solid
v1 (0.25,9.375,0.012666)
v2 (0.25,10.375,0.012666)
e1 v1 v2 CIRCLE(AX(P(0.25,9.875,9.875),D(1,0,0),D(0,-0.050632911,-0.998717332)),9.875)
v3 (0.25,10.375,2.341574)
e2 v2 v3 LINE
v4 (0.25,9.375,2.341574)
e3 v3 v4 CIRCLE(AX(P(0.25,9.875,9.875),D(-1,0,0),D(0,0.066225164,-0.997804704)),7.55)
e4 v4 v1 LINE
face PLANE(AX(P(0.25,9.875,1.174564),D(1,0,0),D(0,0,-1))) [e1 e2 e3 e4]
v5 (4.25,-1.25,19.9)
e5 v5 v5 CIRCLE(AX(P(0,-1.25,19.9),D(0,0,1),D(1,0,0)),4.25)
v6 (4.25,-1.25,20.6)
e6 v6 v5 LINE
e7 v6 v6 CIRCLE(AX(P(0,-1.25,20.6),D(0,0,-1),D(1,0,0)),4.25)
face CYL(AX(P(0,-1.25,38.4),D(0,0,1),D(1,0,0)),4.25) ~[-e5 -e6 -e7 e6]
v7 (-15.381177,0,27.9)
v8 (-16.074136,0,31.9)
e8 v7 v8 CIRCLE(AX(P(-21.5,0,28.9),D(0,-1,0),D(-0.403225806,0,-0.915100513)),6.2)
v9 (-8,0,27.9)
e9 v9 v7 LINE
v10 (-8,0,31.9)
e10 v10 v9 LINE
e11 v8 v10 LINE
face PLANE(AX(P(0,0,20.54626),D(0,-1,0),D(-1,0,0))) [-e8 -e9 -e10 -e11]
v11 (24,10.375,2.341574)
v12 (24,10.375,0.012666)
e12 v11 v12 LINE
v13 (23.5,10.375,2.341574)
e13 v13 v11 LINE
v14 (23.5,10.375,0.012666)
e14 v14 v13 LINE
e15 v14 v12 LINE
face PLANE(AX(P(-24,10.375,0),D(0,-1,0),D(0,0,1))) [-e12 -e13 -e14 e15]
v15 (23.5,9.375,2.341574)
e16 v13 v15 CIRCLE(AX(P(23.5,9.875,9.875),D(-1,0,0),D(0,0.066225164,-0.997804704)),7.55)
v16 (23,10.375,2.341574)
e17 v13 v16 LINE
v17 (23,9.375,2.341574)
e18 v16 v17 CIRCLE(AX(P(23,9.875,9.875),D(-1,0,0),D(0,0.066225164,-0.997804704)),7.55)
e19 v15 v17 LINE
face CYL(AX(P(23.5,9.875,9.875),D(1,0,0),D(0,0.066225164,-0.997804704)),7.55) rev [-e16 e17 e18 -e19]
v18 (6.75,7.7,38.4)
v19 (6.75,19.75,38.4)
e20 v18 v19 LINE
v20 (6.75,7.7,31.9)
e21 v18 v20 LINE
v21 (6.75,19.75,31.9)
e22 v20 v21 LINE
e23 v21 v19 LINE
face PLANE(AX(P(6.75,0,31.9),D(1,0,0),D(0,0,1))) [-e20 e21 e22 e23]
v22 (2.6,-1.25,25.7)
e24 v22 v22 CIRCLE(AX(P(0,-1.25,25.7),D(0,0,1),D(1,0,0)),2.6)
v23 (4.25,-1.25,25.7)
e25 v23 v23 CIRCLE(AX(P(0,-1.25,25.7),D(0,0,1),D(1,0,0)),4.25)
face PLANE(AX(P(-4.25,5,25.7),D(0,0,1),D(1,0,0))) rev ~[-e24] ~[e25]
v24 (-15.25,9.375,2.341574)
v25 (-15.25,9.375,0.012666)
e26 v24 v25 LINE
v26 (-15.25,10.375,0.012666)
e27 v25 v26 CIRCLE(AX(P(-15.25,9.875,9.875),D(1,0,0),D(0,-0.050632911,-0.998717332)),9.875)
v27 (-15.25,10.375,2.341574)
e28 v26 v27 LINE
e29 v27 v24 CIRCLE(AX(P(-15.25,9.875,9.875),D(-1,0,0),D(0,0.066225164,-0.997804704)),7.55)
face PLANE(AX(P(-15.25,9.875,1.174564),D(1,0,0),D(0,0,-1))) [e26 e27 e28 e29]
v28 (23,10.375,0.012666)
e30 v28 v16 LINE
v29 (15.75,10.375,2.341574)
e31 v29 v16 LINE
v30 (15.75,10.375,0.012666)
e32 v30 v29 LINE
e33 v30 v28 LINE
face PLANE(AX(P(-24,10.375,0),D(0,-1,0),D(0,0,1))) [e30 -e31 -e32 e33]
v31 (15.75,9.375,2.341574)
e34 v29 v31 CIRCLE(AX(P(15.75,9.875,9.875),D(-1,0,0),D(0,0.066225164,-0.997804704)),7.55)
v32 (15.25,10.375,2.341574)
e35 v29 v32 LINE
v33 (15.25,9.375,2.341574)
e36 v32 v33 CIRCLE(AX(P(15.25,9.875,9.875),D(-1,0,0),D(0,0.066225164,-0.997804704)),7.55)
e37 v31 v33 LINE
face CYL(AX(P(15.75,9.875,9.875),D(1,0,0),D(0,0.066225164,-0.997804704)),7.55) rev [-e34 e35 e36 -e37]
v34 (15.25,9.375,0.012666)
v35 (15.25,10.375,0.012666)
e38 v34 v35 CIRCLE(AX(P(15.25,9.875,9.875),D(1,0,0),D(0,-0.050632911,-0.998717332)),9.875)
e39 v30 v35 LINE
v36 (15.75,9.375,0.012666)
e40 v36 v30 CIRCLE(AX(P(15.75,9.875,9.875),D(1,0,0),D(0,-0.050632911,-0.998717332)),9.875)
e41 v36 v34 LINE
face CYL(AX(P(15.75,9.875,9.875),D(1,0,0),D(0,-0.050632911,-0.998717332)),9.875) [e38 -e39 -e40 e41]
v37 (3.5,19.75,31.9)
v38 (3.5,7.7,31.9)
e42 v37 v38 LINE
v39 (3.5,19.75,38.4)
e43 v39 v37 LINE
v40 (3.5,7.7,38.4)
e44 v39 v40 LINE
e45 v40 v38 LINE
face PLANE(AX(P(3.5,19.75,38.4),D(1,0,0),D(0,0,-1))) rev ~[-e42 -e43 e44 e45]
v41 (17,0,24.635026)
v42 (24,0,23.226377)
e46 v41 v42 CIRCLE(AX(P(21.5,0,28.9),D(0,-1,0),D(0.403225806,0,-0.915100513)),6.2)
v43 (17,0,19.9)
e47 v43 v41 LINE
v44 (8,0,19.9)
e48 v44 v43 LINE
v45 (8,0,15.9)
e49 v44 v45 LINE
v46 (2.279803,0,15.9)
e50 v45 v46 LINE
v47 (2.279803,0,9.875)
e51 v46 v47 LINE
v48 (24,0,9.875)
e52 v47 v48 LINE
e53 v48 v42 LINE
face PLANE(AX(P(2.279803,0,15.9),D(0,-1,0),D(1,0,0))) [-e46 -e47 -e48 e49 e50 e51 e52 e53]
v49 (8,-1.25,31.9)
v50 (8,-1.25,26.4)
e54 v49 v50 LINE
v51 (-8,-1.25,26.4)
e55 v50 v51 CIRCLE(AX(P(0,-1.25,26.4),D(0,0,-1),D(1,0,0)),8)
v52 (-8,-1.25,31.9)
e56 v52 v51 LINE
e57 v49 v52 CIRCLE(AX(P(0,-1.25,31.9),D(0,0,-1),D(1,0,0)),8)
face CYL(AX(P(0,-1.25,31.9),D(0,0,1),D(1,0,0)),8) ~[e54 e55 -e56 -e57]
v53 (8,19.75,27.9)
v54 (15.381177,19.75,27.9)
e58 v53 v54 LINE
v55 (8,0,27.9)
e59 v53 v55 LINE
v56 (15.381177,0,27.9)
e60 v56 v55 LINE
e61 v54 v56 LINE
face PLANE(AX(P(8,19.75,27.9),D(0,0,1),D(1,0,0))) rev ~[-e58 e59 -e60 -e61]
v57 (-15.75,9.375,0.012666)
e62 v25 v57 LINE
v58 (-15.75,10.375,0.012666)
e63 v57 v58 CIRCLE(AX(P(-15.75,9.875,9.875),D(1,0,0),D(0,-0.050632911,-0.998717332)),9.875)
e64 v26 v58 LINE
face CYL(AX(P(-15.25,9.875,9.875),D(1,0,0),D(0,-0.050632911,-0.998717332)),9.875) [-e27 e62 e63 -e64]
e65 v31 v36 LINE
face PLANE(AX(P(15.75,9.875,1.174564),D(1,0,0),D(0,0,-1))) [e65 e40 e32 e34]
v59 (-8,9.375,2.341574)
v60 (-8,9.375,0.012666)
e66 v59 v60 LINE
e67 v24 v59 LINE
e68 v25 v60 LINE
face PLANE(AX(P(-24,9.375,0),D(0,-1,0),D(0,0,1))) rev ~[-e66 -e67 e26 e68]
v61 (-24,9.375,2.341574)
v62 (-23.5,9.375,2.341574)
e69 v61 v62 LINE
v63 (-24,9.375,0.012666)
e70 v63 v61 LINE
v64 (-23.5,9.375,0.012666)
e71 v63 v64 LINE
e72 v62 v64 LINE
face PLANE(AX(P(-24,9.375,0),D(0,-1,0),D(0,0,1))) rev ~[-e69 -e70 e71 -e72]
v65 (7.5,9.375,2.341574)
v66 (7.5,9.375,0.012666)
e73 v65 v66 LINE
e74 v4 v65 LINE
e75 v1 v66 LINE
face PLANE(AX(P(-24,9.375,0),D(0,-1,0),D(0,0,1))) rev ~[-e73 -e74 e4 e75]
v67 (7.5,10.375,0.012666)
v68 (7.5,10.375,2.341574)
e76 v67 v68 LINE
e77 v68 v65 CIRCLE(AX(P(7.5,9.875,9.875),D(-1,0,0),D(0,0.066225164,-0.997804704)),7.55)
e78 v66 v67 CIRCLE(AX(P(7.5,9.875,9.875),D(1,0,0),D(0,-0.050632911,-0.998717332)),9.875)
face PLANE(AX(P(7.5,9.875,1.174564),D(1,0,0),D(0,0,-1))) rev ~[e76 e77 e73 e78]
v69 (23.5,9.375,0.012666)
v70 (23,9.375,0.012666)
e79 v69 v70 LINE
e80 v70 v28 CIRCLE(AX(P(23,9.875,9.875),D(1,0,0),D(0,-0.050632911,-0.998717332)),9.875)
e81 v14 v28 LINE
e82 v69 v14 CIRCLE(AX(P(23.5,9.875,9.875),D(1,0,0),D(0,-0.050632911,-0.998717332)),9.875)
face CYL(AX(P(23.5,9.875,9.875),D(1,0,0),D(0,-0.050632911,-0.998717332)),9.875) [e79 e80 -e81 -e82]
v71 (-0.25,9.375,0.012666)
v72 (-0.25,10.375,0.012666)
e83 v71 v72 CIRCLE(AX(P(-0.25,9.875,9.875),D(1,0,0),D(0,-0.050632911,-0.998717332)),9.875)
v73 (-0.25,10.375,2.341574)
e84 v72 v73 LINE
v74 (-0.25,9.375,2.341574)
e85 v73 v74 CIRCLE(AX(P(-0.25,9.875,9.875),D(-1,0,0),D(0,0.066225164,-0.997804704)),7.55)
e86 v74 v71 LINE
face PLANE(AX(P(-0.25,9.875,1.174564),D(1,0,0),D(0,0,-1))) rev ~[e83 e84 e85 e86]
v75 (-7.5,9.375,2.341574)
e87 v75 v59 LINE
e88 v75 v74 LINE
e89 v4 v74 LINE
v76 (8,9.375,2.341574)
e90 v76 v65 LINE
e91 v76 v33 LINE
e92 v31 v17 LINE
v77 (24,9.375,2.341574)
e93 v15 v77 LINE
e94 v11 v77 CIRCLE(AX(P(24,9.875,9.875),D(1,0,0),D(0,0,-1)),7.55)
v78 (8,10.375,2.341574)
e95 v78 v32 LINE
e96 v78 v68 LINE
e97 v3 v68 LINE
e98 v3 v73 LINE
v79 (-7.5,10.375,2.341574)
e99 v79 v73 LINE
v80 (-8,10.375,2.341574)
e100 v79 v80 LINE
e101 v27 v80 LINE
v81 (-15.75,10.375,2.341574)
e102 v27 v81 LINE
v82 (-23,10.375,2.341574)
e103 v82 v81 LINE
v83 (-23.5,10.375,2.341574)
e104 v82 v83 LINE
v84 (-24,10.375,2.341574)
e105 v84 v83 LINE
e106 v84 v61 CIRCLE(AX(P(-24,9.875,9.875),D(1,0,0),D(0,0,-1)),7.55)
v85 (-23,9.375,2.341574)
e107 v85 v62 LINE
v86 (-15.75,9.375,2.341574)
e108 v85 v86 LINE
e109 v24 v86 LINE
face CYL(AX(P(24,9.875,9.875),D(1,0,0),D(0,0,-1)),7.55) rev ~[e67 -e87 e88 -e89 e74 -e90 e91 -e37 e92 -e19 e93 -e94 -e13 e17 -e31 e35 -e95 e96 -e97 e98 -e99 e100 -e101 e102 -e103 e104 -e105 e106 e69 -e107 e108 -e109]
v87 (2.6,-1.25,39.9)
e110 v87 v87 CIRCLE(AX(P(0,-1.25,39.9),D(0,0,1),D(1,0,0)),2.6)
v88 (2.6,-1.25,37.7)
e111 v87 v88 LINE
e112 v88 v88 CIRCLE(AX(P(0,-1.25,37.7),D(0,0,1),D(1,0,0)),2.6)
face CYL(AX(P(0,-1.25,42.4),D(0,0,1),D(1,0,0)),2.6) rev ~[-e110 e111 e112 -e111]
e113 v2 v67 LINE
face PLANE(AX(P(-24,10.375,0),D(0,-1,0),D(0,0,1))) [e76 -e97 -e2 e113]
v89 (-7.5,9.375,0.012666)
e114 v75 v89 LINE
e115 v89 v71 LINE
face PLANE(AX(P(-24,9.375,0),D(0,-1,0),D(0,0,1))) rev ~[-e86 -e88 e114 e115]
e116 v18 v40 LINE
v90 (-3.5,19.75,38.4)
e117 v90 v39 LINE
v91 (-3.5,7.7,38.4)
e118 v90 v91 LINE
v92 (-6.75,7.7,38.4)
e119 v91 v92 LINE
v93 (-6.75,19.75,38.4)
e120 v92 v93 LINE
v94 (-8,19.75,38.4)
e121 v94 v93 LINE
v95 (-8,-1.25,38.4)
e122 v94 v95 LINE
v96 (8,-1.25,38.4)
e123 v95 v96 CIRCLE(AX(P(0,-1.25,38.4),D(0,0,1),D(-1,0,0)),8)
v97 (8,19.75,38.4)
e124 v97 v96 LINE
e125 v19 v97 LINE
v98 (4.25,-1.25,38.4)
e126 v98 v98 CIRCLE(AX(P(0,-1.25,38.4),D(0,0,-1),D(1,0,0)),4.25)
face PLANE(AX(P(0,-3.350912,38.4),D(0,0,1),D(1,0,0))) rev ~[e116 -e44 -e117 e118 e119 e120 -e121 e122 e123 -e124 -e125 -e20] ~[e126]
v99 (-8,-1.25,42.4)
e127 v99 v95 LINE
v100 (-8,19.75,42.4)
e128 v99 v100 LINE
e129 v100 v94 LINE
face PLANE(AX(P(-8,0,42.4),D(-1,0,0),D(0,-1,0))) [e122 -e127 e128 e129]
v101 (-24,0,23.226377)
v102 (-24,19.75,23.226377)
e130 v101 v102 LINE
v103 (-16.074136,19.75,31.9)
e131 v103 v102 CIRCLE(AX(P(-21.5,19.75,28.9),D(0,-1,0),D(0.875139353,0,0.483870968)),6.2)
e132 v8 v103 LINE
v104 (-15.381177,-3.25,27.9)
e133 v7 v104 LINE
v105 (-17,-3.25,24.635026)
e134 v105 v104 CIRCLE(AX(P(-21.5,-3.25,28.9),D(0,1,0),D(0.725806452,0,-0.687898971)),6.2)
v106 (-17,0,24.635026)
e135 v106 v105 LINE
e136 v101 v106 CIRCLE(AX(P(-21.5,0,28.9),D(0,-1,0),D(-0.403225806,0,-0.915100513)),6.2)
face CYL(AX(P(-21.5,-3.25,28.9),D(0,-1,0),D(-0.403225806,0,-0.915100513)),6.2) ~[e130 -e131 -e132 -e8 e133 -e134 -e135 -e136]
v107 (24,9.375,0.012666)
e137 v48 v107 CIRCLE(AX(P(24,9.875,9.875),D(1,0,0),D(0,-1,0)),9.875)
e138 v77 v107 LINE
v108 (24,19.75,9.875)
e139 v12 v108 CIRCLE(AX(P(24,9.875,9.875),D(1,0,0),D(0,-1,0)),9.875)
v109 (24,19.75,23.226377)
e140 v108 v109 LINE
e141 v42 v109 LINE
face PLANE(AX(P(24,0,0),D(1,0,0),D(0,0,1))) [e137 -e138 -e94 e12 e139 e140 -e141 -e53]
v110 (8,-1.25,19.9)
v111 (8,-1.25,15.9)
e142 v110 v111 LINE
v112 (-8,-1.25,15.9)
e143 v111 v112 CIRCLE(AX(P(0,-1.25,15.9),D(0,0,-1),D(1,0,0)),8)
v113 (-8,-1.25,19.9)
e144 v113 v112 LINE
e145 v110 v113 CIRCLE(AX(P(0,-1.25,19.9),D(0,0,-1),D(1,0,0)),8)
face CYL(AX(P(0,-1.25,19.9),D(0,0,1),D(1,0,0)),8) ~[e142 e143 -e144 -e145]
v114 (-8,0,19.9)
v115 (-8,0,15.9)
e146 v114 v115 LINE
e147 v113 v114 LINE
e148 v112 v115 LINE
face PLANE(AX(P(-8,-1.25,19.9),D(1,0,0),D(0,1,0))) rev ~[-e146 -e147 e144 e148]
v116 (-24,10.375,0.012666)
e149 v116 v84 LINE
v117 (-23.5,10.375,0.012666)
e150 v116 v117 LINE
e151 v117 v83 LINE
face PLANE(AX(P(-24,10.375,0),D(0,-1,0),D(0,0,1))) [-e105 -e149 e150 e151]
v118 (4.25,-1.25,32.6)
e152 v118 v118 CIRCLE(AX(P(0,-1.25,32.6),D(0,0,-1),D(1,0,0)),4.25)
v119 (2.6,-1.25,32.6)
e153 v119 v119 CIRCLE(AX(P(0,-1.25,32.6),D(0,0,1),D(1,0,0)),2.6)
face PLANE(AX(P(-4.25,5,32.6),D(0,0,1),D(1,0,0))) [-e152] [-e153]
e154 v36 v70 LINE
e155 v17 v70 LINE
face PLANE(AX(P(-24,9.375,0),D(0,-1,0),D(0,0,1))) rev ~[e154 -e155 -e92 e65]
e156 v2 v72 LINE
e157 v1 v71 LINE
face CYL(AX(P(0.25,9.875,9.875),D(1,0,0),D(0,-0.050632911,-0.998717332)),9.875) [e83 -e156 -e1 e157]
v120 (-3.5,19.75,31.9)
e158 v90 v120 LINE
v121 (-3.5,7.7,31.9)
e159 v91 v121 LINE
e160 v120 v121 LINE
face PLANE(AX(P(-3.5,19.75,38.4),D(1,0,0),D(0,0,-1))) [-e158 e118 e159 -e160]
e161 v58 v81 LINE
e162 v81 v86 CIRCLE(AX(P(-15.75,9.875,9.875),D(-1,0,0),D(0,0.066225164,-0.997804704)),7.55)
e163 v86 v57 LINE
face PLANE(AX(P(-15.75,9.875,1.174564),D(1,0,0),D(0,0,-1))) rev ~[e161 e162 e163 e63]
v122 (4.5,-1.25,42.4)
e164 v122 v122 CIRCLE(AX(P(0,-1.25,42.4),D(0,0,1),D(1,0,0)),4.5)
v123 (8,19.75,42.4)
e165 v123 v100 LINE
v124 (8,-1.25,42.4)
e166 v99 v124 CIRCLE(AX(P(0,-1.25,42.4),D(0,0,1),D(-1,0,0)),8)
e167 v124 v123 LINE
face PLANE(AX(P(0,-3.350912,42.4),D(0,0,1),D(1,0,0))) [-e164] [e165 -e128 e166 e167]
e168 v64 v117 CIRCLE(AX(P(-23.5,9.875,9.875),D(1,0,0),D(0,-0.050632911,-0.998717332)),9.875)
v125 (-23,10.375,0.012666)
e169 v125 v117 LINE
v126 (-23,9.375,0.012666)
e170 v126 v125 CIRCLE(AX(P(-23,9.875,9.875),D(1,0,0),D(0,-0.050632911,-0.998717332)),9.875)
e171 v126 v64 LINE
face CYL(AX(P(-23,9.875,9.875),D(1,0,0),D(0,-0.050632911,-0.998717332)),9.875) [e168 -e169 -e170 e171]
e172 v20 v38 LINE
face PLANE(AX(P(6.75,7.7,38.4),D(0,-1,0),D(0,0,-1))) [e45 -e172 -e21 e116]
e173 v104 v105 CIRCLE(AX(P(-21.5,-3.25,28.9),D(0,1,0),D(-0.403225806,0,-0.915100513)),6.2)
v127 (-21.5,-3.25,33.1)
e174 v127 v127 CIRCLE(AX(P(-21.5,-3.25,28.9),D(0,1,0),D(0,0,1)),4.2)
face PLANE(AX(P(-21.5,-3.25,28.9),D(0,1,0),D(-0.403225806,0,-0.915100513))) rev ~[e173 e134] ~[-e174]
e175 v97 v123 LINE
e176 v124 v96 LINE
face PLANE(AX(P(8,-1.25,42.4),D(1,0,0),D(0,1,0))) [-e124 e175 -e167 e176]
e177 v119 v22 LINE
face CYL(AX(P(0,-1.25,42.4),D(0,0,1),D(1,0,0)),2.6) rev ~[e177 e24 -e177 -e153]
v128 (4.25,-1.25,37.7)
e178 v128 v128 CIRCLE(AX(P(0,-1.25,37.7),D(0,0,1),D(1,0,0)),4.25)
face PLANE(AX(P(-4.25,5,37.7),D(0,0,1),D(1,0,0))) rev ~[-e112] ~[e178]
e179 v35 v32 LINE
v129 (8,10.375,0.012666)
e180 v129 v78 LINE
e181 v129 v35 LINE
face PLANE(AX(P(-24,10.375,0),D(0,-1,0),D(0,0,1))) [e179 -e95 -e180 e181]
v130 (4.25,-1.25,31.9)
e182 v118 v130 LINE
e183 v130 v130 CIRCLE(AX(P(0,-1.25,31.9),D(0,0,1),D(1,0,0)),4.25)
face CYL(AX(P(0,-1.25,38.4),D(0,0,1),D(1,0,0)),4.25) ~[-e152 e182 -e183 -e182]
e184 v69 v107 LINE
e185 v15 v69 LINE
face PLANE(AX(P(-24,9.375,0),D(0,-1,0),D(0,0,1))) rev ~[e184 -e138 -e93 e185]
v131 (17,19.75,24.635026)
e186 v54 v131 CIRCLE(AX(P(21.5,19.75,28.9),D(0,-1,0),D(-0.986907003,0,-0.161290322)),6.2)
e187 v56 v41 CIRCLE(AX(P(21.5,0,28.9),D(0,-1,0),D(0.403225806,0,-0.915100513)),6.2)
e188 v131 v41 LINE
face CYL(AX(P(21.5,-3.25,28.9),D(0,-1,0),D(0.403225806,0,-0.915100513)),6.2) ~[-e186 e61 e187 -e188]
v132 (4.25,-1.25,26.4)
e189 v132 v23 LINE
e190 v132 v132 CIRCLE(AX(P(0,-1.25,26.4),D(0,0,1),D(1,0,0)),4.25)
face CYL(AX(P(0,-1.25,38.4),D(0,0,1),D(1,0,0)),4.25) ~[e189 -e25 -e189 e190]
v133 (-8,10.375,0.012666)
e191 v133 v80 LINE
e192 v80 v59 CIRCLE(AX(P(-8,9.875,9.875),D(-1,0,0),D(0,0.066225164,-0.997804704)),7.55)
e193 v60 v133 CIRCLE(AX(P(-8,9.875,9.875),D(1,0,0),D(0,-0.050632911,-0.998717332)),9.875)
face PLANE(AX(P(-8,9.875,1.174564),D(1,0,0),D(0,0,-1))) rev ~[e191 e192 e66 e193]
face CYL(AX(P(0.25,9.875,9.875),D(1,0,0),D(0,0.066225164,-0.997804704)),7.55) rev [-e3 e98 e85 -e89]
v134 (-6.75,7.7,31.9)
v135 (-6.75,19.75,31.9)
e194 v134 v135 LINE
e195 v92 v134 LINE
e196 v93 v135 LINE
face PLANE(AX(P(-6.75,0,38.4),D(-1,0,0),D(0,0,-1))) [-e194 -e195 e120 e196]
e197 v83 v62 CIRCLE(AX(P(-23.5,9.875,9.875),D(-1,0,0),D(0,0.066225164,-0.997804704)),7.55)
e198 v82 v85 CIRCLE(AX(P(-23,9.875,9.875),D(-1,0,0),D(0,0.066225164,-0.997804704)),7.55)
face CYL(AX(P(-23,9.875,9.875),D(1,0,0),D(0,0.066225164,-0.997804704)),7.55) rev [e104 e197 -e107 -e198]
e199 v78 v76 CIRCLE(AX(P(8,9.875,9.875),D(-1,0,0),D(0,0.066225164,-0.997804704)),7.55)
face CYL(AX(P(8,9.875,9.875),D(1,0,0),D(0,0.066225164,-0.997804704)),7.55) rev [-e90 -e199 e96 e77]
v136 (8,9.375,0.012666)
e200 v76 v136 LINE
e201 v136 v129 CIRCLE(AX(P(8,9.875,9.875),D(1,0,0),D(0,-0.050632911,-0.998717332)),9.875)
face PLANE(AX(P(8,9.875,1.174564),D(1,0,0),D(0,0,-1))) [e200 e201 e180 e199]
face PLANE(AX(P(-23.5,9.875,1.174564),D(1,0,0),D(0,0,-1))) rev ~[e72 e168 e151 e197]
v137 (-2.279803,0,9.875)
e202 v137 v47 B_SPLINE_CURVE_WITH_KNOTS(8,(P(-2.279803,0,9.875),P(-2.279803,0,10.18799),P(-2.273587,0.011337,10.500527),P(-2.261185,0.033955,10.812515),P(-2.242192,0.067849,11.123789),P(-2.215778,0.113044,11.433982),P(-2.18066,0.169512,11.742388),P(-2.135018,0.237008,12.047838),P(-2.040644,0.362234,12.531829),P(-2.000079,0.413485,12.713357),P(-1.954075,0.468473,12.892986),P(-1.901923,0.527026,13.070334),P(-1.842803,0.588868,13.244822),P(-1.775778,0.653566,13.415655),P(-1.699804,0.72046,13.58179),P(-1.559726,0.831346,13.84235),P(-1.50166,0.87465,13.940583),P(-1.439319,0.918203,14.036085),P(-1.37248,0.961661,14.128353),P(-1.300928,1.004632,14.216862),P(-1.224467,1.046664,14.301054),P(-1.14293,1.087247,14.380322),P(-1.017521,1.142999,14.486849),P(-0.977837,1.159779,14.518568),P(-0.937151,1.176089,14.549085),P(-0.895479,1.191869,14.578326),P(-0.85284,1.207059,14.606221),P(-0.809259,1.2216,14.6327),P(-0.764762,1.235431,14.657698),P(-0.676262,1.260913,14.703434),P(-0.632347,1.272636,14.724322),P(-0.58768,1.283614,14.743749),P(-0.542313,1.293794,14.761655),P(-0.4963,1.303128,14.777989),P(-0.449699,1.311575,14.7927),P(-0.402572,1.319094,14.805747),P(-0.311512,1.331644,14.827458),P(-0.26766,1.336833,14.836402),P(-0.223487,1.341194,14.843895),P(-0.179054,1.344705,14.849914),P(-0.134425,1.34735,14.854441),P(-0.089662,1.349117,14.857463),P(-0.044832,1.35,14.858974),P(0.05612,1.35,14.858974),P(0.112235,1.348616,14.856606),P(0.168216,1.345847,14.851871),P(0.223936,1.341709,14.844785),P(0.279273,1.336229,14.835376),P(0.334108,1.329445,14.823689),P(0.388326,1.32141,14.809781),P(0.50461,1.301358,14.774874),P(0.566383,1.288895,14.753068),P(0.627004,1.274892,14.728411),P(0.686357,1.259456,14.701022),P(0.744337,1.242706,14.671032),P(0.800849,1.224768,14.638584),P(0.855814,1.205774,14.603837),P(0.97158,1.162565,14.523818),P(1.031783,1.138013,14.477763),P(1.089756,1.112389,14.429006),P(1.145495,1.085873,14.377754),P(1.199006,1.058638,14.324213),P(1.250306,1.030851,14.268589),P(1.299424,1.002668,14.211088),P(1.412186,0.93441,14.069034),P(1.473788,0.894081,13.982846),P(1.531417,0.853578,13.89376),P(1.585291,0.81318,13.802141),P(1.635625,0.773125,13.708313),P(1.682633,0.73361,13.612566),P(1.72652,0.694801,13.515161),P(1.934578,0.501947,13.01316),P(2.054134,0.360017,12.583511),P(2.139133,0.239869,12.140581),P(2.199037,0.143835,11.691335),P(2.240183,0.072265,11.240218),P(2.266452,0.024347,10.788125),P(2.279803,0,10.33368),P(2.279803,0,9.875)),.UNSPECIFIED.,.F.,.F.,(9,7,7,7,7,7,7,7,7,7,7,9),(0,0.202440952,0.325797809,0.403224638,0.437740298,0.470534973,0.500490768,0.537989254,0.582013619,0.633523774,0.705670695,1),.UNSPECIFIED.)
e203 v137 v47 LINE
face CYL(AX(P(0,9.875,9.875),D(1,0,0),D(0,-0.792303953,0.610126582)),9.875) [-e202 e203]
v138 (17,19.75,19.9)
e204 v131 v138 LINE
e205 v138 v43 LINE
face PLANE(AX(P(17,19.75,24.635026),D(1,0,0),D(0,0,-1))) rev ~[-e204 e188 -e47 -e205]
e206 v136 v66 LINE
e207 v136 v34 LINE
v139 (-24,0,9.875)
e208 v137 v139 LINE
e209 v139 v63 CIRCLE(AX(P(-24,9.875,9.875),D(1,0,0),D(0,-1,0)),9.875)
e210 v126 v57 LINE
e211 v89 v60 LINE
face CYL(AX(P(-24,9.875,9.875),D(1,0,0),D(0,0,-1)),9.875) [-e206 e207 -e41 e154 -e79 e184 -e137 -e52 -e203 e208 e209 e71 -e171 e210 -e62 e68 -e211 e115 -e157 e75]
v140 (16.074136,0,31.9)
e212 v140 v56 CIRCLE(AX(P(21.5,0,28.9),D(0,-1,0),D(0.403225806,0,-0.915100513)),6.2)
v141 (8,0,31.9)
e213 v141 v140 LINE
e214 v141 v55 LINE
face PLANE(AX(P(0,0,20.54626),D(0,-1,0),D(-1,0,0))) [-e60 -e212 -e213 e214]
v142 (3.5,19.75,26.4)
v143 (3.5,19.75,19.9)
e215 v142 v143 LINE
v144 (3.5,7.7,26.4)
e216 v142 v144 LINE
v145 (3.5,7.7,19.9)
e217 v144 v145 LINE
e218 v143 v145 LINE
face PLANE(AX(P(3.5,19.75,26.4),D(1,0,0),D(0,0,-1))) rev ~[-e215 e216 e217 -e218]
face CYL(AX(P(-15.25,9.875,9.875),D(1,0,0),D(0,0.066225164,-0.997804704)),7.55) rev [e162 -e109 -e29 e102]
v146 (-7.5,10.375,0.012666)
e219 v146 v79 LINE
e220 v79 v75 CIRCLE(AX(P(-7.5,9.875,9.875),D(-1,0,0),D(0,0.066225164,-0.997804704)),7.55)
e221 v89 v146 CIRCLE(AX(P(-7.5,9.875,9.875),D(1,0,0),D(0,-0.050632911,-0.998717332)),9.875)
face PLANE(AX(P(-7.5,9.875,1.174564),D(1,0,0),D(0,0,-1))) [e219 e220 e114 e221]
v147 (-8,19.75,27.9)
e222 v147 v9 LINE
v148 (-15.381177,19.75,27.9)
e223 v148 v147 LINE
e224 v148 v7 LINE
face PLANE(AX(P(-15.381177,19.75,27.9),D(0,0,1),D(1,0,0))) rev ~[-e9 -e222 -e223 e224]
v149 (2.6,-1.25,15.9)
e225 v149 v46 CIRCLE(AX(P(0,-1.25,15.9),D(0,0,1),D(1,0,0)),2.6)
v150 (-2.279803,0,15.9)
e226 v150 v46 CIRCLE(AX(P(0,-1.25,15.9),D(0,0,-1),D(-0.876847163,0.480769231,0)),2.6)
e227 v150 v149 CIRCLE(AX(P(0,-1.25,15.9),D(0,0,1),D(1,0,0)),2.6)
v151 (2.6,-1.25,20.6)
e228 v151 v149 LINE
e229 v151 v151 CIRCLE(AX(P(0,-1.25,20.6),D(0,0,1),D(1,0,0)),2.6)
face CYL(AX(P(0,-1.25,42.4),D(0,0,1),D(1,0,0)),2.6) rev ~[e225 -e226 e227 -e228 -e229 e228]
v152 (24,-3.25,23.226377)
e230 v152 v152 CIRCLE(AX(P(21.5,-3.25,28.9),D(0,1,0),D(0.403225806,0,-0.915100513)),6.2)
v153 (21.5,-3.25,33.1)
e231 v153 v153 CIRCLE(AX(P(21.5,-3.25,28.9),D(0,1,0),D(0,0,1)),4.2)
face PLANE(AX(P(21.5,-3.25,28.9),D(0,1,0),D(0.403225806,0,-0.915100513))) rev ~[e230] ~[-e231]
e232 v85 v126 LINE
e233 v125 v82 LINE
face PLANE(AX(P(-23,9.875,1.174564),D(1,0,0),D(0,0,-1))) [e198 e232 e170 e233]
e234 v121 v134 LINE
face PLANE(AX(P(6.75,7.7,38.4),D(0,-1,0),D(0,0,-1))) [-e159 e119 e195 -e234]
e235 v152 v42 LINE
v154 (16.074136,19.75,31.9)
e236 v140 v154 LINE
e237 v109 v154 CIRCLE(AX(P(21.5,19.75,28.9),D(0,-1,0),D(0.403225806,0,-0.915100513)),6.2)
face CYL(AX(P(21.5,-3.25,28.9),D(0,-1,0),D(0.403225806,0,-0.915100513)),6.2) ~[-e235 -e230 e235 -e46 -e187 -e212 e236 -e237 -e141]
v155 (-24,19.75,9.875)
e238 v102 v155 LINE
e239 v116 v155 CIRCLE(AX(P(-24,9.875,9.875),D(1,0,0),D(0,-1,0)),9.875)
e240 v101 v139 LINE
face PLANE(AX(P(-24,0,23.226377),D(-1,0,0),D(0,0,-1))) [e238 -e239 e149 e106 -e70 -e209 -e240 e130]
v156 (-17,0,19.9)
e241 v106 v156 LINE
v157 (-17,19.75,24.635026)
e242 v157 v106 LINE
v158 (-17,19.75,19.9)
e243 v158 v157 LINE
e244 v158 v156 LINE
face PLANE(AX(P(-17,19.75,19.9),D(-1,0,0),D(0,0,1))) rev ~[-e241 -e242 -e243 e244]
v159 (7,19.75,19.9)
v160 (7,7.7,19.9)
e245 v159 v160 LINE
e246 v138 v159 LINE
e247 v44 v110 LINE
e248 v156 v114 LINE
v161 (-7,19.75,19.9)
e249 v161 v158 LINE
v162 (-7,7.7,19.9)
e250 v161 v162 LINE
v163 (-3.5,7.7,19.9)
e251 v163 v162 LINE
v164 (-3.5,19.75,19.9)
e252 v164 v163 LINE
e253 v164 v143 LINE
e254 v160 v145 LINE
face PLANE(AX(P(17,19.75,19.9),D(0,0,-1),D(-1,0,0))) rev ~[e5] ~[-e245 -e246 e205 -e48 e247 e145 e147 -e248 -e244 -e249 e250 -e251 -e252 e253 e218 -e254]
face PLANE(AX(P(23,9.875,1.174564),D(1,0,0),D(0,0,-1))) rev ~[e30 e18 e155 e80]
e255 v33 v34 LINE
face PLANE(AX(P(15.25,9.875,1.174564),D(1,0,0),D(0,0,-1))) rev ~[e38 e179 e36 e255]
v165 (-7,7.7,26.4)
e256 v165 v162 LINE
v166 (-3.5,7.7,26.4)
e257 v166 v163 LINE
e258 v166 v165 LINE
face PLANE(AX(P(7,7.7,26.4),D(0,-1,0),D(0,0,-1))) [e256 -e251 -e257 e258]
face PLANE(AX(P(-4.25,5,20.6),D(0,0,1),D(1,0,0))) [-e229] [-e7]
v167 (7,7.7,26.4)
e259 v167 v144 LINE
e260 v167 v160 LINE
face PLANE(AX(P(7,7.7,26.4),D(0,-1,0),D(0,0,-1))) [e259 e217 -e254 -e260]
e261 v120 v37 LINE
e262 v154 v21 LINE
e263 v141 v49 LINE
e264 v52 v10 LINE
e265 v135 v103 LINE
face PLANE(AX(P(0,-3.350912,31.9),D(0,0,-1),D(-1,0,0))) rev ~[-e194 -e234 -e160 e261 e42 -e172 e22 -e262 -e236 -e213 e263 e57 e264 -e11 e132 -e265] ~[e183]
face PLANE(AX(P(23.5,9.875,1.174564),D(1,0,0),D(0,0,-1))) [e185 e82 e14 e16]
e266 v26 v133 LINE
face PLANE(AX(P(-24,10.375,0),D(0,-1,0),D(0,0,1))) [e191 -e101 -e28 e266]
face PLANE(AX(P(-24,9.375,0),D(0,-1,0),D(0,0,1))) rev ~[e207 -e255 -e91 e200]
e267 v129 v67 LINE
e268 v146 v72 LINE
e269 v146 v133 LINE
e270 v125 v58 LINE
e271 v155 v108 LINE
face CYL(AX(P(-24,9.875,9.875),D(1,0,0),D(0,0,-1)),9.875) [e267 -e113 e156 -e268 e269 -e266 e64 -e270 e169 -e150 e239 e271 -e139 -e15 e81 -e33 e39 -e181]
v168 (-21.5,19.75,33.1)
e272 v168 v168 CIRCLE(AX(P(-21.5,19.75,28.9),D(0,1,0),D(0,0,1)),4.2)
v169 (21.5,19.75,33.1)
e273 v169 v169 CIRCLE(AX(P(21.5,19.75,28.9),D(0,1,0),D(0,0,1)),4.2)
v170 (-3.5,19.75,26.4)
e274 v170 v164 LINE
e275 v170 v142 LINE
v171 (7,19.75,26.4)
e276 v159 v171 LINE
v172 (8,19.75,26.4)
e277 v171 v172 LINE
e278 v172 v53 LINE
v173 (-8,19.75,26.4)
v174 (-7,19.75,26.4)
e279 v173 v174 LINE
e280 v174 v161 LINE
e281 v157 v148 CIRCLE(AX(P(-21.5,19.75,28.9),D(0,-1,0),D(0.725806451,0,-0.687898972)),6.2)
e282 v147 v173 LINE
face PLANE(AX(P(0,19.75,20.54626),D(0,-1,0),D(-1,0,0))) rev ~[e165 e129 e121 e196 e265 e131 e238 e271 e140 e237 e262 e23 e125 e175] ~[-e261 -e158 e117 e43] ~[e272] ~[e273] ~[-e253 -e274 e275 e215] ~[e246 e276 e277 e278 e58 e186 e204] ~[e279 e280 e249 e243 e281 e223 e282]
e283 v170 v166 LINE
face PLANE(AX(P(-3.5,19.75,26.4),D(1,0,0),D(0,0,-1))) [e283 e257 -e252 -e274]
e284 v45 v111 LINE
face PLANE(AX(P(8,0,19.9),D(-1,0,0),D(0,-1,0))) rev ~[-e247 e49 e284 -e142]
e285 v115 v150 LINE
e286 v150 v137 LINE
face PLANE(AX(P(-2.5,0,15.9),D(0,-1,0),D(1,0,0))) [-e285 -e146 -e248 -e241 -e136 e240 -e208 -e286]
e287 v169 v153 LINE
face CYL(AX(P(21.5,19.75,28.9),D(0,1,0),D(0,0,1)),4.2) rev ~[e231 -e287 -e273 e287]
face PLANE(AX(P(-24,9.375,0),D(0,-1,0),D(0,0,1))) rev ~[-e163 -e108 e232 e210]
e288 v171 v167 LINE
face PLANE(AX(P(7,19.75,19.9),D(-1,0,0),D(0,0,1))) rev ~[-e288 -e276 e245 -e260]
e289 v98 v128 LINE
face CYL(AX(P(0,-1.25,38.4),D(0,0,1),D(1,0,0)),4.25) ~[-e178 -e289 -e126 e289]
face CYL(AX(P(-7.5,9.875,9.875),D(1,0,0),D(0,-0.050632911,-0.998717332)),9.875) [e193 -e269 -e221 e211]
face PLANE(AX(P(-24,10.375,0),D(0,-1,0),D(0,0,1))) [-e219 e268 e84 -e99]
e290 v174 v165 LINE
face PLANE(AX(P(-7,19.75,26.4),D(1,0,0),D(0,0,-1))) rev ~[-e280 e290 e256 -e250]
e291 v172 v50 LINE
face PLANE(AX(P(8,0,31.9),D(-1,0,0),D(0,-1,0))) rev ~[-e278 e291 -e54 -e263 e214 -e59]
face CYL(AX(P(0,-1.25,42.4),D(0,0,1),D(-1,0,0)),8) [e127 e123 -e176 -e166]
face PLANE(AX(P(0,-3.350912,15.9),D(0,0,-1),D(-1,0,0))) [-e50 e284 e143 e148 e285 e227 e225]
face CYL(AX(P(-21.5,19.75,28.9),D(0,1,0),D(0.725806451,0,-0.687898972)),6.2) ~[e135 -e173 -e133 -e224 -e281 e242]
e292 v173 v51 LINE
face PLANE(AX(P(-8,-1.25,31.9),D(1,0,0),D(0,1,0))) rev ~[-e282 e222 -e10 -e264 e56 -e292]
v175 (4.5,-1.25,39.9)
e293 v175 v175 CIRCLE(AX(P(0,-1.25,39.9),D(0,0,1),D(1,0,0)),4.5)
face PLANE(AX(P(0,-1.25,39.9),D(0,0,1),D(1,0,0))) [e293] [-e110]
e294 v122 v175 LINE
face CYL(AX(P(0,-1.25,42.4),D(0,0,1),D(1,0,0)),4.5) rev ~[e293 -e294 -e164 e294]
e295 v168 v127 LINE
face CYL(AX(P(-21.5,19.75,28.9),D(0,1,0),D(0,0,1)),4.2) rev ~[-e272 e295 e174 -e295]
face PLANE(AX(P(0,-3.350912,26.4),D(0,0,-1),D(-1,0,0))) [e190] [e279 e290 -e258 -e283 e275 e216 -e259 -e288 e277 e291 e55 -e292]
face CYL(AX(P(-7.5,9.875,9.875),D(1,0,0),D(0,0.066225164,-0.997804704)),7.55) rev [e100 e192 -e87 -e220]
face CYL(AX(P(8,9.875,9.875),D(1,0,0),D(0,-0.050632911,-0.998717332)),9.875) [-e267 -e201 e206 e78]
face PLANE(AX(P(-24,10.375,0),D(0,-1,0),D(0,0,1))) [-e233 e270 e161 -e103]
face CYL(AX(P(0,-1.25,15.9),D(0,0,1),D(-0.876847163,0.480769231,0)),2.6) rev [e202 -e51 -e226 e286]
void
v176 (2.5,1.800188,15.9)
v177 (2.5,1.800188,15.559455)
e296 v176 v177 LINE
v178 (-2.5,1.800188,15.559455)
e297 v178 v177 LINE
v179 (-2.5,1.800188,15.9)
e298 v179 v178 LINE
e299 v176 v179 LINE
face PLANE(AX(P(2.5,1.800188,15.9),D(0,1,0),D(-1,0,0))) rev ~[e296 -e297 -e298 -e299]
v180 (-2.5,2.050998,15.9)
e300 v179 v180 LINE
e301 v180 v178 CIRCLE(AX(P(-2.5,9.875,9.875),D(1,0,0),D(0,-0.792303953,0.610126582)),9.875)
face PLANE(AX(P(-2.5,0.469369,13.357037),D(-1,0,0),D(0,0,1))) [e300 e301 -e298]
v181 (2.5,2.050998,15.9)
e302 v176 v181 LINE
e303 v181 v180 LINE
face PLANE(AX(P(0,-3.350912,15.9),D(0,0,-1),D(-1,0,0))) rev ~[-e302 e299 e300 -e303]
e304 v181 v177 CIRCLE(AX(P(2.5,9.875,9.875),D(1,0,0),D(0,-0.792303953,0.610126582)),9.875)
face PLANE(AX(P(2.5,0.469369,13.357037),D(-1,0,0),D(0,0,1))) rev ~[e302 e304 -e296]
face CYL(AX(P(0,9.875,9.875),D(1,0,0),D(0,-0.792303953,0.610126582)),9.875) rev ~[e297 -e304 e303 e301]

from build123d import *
from build123d.topology import SkipClean

# Parameters (mm, degrees)
BOSS_EXTRUDE1_DEPTH      = 19.75
FILLET1_RADIUS           = 9.875
FILLET1_LENGTH           = 48
SKETCH2_R                = 7.55
CUT_EXTRUDE1_DEPTH       = 70.718810231
BOSS_EXTRUDE2_START      = -23
SKETCH3_R                = 6.2
BOSS_EXTRUDE2_DEPTH      = 23
SKETCH4_R                = 4.2
CUT_EXTRUDE2_DEPTH       = 56.624185387
SKETCH5_W                = 7
SKETCH5_H                = 6.5
CUT_EXTRUDE3_DEPTH       = 56.624185387
BOSS_EXTRUDE3_DEPTH      = 4
CUT_EXTRUDE4_REACH       = 60.092
SKETCH7_W                = 6.5
SKETCH7_H                = 7.7
BOSS_EXTRUDE4_DEPTH      = 5.5
SKETCH9_W                = 6.5
SKETCH9_H                = 7.7
CUT_EXTRUDE5_DEPTH       = 14
BOSS_EXTRUDE5_DEPTH      = 4
BOSS_EXTRUDE6_REACH      = 53.302
SKETCH11_R               = 4.25
CUT_EXTRUDE7_DEPTH       = 55.36094646
CUT_EXTRUDE7_DEPTH_BACK  = 5
SKETCH13_W               = 8.5
SKETCH13_H               = 5.1
CUT_EXTRUDE8_DEPTH       = 2.5
CUT_EXTRUDE6_REACH       = 56.361
SKETCH12_R               = 2.6
BOSS_EXTRUDE7_REACH      = 45.123
BOSS_EXTRUDE7_END_RADIUS = 9.875
SKETCH17_W               = 2.341574484
SKETCH17_H               = 1
CUT_EXTRUDE9_DEPTH       = 70.718810231
BOSS_EXTRUDE8_START      = -1
BOSS_EXTRUDE8_DEPTH      = 0.5
LPATTERN1_COUNT          = 7
LPATTERN1_PITCH          = 7.75
SKETCH19_R               = 4.5
CUT_EXTRUDE10_DEPTH      = 2.5


with BuildPart() as part:
    # Sketch1 → Boss-Extrude1 (new body)
    with BuildSketch(Plane(origin=(0, 0, 0), x_dir=(1, 0, 0), z_dir=(0, 1, 0))):
        with BuildLine():
            Line((16.074136013, -31.9), (6.75, -31.9))
            Line((6.75, -31.9), (6.75, -38.4))
            Line((6.75, -38.4), (8, -38.4))
            Line((8, -38.4), (8, -42.4))
            Line((8, -42.4), (-8, -42.4))
            Line((-8, -42.4), (-8, -38.4))
            Line((-8, -38.4), (-6.75, -38.4))
            Line((-6.75, -38.4), (-6.75, -31.9))
            Line((-6.75, -31.9), (-16.074136013, -31.9))
            ThreePointArc((-16.074136013, -31.9), (-26.076909961, -33.082331313), (-24, -23.226376819))
            Line((-24, -23.226376819), (-24, 0))
            Line((-24, 0), (24, 0))
            Line((24, 0), (24, -23.226376819))
            ThreePointArc((24, -23.226376819), (26.076909961, -33.082331313), (16.074136013, -31.9))
        make_face()
    extrude(amount=BOSS_EXTRUDE1_DEPTH)

    # Fillet1: full round fillet: the end face becomes a half cylinder, R = half its width
    fillet1_face = Plane((0, 9.875, 0), x_dir=(1, 0, 0), z_dir=(0, 0, -1))  # on the end face: x along it, z out of the body
    fillet1_slab = fillet1_face.offset(-FILLET1_RADIUS / 2) * Box(FILLET1_LENGTH, 2 * FILLET1_RADIUS, FILLET1_RADIUS, mode=Mode.PRIVATE)  # the body's end, R deep
    fillet1_round = Plane((0, 9.875, 9.875), x_dir=(0, 0, -1), z_dir=(1, 0, 0)) * Cylinder(FILLET1_RADIUS, FILLET1_LENGTH, mode=Mode.PRIVATE)  # its axis R under the face
    add(fillet1_slab - fillet1_round, mode=Mode.SUBTRACT)

    # Sketch2 → Cut-Extrude1 (cut, through all)
    with BuildSketch(Plane(origin=(24, 0, 0), x_dir=(0, 0, -1), z_dir=(1, 0, 0))):
        with Locations((-9.875, 9.875)):
            Circle(SKETCH2_R)
    extrude(amount=-CUT_EXTRUDE1_DEPTH, mode=Mode.SUBTRACT)

    # Sketch3 → Boss-Extrude2 (add)
    with SkipClean():  # the faces are left unmerged after this step: merging them gives an invalid solid
        with BuildSketch(Plane(origin=(0, 19.75, 0), x_dir=(1, 0, 0), z_dir=(0, 1, 0)).offset(BOSS_EXTRUDE2_START)):
            with Locations(Location((21.5, -28.9, 0), (0, 0, 66.220005269))):
                Circle(SKETCH3_R)
            with Locations(Location((-21.5, -28.9, 0), (0, 0, 113.779994731))):
                Circle(SKETCH3_R)
        extrude(amount=BOSS_EXTRUDE2_DEPTH)

    # Sketch4 → Cut-Extrude2 (cut, through all)
    with SkipClean():  # the faces are left unmerged after this step: merging them gives an invalid solid
        with BuildSketch(Plane(origin=(0, 19.75, 0), x_dir=(1, 0, 0), z_dir=(0, 1, 0))):
            with Locations(Location((-21.5, -28.9, 0), (0, 0, 270))):
                Circle(SKETCH4_R)
            with Locations(Location((21.5, -28.9, 0), (0, 0, 270))):
                Circle(SKETCH4_R)
        extrude(amount=-CUT_EXTRUDE2_DEPTH, mode=Mode.SUBTRACT)

    # Sketch5 → Cut-Extrude3 (cut, through all)
    with BuildSketch(Plane(origin=(0, 19.75, 0), x_dir=(1, 0, 0), z_dir=(0, 1, 0))):
        with Locations((0, -23.15)):
            Rectangle(SKETCH5_W, SKETCH5_H)
        with Locations((0, -35.15)):
            Rectangle(SKETCH5_W, SKETCH5_H)
        with BuildLine():
            Line((17, -19.9), (7, -19.9))
            Line((7, -19.9), (7, -26.4))
            Line((7, -26.4), (8, -26.4))
            Line((8, -26.4), (8, -27.9))
            Line((8, -27.9), (15.381176584, -27.9))
            ThreePointArc((15.381176584, -27.9), (15.945284357, -26.145887779), (17, -24.635026378))
            Line((17, -24.635026378), (17, -19.9))
        make_face()
        with BuildLine():
            Line((-7, -19.9), (-17, -19.9))
            Line((-17, -19.9), (-17, -24.635026378))
            ThreePointArc((-17, -24.635026378), (-15.945284357, -26.145887779), (-15.381176584, -27.9))
            Line((-15.381176584, -27.9), (-8, -27.9))
            Line((-8, -27.9), (-8, -26.4))
            Line((-8, -26.4), (-7, -26.4))
            Line((-7, -26.4), (-7, -19.9))
        make_face()
    extrude(amount=-CUT_EXTRUDE3_DEPTH, mode=Mode.SUBTRACT)

    # Sketch6 → Boss-Extrude3 (add)
    with BuildSketch(Plane.XY.offset(42.4)):
        with BuildLine():
            Line((-8, 0), (-8, -1.25))
            ThreePointArc((-8, -1.25), (0, -9.25), (8, -1.25))
            Line((8, -1.25), (8, 0))
            Line((8, 0), (-8, 0))
        make_face()
    extrude(amount=-BOSS_EXTRUDE3_DEPTH)

    # Cut-Extrude4: up to this face of the body (flat: up to its plane)
    cut_extrude4_end = Plane(part.part.faces().sort_by_distance((-6.75, 9.875, 35.15))[0])
    # Sketch7 → Cut-Extrude4 (cut, up to the picked face)
    with BuildSketch(Plane(origin=(6.75, 0, 0), x_dir=(0, 0, -1), z_dir=(1, 0, 0)), mode=Mode.PRIVATE) as cut_extrude4_sk1:
        with Locations((-35.15, 3.85)):
            Rectangle(SKETCH7_W, SKETCH7_H)
    cut_extrude4_tool1 = split(extrude(cut_extrude4_sk1.sketch, amount=-CUT_EXTRUDE4_REACH, mode=Mode.PRIVATE), bisect_by=cut_extrude4_end, keep=Keep.BOTH, mode=Mode.PRIVATE)
    add(cut_extrude4_tool1.solids().sort_by(Axis((6.75, 3.85, 35.15), (-1, 0, 0)))[0], mode=Mode.SUBTRACT)

    # Sketch8 → Boss-Extrude4 (add)
    with BuildSketch(Plane.XY.offset(31.9)):
        with BuildLine():
            Line((-8, -1.25), (-8, 0))
            Line((-8, 0), (8, 0))
            Line((8, 0), (8, -1.25))
            ThreePointArc((8, -1.25), (0, -9.25), (-8, -1.25))
        make_face()
    extrude(amount=-BOSS_EXTRUDE4_DEPTH)

    # Sketch9 → Cut-Extrude5 (cut)
    with BuildSketch(Plane(origin=(7, 0, 0), x_dir=(0, 0, -1), z_dir=(1, 0, 0))):
        with Locations((-23.15, 3.85)):
            Rectangle(SKETCH9_W, SKETCH9_H)
    extrude(amount=-CUT_EXTRUDE5_DEPTH, mode=Mode.SUBTRACT)

    # Sketch10 → Boss-Extrude5 (add)
    with BuildSketch(Plane.XY.offset(19.9)):
        with BuildLine():
            Line((-8, -1.25), (-8, 0))
            Line((-8, 0), (8, 0))
            Line((8, 0), (8, -1.25))
            ThreePointArc((8, -1.25), (0, -9.25), (-8, -1.25))
        make_face()
    extrude(amount=-BOSS_EXTRUDE5_DEPTH)

    # Boss-Extrude6: up to this face of the body (flat: up to its plane)
    boss_extrude6_end = Plane(part.part.faces().sort_by_distance((0, 13.725, 19.9))[0])
    # Sketch11 → Boss-Extrude6 (add, up to the picked face)
    with BuildSketch(Plane(origin=(0, 0, 38.4), x_dir=(-1, 0, 0), z_dir=(0, 0, -1)), mode=Mode.PRIVATE) as boss_extrude6_sk1:
        with Locations(Location((0, -1.25, 0), (0, 0, 180))):
            Circle(SKETCH11_R)
    boss_extrude6_tool1 = split(extrude(boss_extrude6_sk1.sketch, amount=BOSS_EXTRUDE6_REACH, mode=Mode.PRIVATE), bisect_by=boss_extrude6_end, keep=Keep.BOTH, mode=Mode.PRIVATE)
    add(boss_extrude6_tool1.solids().sort_by(Axis((0, -1.25, 38.4), (0, 0, -1)))[0])

    # Sketch13 → Cut-Extrude7 (cut, two sides: drawn at the far end of the back side and taken through both)
    with BuildSketch(Plane.XZ.offset(-CUT_EXTRUDE7_DEPTH_BACK)):
        with Locations((0, 35.15)):
            Rectangle(SKETCH13_W, SKETCH13_H)
        with Locations((0, 23.15)):
            Rectangle(SKETCH13_W, SKETCH13_H)
    extrude(amount=CUT_EXTRUDE7_DEPTH + CUT_EXTRUDE7_DEPTH_BACK, mode=Mode.SUBTRACT)

    # Sketch15 → Cut-Extrude8 (cut, symmetric)
    with BuildSketch(Plane(origin=(0, 0, 0), x_dir=(0, 0, -1), z_dir=(1, 0, 0))):
        with BuildLine():
            Line((-15.9, 0), (-15.9, 2.050998466))
            ThreePointArc((-15.9, 2.050998466), (-13.05726412, 0.526801239), (-9.875, 0))
            Line((-9.875, 0), (-15.9, 0))
        make_face()
    extrude(amount=CUT_EXTRUDE8_DEPTH, both=True, mode=Mode.SUBTRACT)

    # Cut-Extrude6: up to this face of the body (flat: up to its plane)
    cut_extrude6_end = Plane(part.part.faces().sort_by_distance((0, -3.978206263, 15.9))[0])
    # Sketch12 → Cut-Extrude6 (cut, up to the picked face)
    with BuildSketch(Plane.XY.offset(42.4), mode=Mode.PRIVATE) as cut_extrude6_sk1:
        with Locations((0, -1.25)):
            Circle(SKETCH12_R)
    cut_extrude6_tool1 = split(extrude(cut_extrude6_sk1.sketch, amount=-CUT_EXTRUDE6_REACH, mode=Mode.PRIVATE), bisect_by=cut_extrude6_end, keep=Keep.BOTH, mode=Mode.PRIVATE)
    add(cut_extrude6_tool1.solids().sort_by(Axis((0, -1.25, 42.4), (0, 0, -1)))[0], mode=Mode.SUBTRACT)

    # Boss-Extrude7: up to this cylinder (the profile starts outside it)
    boss_extrude7_end = Plane(origin=(2.389901, 9.875, 9.875), z_dir=(1, 0, 0)) * Cylinder(BOSS_EXTRUDE7_END_RADIUS, 110.996, mode=Mode.PRIVATE)
    # Sketch16 → Boss-Extrude7 (add, up to the surface)
    with BuildSketch(Plane(origin=(0, 0, 15.9), x_dir=(-1, 0, 0), z_dir=(0, 0, -1)), mode=Mode.PRIVATE) as boss_extrude7_sk1:
        with BuildLine():
            Line((-2.279802623, 0), (-2.5, 0))
            Line((-2.5, 0), (-2.5, 1.800187721))
            Line((-2.5, 1.800187721), (2.5, 1.800187721))
            Line((2.5, 1.800187721), (2.5, 0))
            Line((2.5, 0), (2.279802623, 0))
            ThreePointArc((2.279802623, 0), (0, 1.35), (-2.279802623, 0))
        make_face()
    boss_extrude7_tool1 = extrude(boss_extrude7_sk1.sketch, amount=BOSS_EXTRUDE7_REACH, mode=Mode.PRIVATE) - boss_extrude7_end
    add(boss_extrude7_tool1.solids().sort_by_distance((2.389901, 0.053142, 15.9))[0])

    # Sketch17 → Cut-Extrude9 (cut, through all)
    with BuildSketch(Plane.ZY.offset(24)):
        with Locations((1.170787242, 9.875)):
            Rectangle(SKETCH17_W, SKETCH17_H)
    extrude(amount=-CUT_EXTRUDE9_DEPTH, mode=Mode.SUBTRACT)

    # Sketch18 → Boss-Extrude8 (add)
    with BuildSketch(Plane.ZY.offset(24).offset(BOSS_EXTRUDE8_START)):
        with BuildLine():
            Line((0.012666351, 10.375), (2.341574484, 10.375))
            ThreePointArc((2.341574484, 10.375), (2.325, 9.875), (2.341574484, 9.375))
            Line((2.341574484, 9.375), (0.012666351, 9.375))
            ThreePointArc((0.012666351, 9.375), (0, 9.875), (0.012666351, 10.375))
        make_face()
    boss_extrude8 = extrude(amount=BOSS_EXTRUDE8_DEPTH)

    # LPattern1: Boss-Extrude8 ×7
    with Locations(*[(i * LPATTERN1_PITCH, 0, 0) for i in range(1, LPATTERN1_COUNT)]):
        add(boss_extrude8)

    # Sketch19 → Cut-Extrude10 (cut)
    with BuildSketch(Plane.XY.offset(42.4)):
        with Locations((0, -1.25)):
            Circle(SKETCH19_R)
    extrude(amount=-CUT_EXTRUDE10_DEPTH, mode=Mode.SUBTRACT)


solid = part.part
